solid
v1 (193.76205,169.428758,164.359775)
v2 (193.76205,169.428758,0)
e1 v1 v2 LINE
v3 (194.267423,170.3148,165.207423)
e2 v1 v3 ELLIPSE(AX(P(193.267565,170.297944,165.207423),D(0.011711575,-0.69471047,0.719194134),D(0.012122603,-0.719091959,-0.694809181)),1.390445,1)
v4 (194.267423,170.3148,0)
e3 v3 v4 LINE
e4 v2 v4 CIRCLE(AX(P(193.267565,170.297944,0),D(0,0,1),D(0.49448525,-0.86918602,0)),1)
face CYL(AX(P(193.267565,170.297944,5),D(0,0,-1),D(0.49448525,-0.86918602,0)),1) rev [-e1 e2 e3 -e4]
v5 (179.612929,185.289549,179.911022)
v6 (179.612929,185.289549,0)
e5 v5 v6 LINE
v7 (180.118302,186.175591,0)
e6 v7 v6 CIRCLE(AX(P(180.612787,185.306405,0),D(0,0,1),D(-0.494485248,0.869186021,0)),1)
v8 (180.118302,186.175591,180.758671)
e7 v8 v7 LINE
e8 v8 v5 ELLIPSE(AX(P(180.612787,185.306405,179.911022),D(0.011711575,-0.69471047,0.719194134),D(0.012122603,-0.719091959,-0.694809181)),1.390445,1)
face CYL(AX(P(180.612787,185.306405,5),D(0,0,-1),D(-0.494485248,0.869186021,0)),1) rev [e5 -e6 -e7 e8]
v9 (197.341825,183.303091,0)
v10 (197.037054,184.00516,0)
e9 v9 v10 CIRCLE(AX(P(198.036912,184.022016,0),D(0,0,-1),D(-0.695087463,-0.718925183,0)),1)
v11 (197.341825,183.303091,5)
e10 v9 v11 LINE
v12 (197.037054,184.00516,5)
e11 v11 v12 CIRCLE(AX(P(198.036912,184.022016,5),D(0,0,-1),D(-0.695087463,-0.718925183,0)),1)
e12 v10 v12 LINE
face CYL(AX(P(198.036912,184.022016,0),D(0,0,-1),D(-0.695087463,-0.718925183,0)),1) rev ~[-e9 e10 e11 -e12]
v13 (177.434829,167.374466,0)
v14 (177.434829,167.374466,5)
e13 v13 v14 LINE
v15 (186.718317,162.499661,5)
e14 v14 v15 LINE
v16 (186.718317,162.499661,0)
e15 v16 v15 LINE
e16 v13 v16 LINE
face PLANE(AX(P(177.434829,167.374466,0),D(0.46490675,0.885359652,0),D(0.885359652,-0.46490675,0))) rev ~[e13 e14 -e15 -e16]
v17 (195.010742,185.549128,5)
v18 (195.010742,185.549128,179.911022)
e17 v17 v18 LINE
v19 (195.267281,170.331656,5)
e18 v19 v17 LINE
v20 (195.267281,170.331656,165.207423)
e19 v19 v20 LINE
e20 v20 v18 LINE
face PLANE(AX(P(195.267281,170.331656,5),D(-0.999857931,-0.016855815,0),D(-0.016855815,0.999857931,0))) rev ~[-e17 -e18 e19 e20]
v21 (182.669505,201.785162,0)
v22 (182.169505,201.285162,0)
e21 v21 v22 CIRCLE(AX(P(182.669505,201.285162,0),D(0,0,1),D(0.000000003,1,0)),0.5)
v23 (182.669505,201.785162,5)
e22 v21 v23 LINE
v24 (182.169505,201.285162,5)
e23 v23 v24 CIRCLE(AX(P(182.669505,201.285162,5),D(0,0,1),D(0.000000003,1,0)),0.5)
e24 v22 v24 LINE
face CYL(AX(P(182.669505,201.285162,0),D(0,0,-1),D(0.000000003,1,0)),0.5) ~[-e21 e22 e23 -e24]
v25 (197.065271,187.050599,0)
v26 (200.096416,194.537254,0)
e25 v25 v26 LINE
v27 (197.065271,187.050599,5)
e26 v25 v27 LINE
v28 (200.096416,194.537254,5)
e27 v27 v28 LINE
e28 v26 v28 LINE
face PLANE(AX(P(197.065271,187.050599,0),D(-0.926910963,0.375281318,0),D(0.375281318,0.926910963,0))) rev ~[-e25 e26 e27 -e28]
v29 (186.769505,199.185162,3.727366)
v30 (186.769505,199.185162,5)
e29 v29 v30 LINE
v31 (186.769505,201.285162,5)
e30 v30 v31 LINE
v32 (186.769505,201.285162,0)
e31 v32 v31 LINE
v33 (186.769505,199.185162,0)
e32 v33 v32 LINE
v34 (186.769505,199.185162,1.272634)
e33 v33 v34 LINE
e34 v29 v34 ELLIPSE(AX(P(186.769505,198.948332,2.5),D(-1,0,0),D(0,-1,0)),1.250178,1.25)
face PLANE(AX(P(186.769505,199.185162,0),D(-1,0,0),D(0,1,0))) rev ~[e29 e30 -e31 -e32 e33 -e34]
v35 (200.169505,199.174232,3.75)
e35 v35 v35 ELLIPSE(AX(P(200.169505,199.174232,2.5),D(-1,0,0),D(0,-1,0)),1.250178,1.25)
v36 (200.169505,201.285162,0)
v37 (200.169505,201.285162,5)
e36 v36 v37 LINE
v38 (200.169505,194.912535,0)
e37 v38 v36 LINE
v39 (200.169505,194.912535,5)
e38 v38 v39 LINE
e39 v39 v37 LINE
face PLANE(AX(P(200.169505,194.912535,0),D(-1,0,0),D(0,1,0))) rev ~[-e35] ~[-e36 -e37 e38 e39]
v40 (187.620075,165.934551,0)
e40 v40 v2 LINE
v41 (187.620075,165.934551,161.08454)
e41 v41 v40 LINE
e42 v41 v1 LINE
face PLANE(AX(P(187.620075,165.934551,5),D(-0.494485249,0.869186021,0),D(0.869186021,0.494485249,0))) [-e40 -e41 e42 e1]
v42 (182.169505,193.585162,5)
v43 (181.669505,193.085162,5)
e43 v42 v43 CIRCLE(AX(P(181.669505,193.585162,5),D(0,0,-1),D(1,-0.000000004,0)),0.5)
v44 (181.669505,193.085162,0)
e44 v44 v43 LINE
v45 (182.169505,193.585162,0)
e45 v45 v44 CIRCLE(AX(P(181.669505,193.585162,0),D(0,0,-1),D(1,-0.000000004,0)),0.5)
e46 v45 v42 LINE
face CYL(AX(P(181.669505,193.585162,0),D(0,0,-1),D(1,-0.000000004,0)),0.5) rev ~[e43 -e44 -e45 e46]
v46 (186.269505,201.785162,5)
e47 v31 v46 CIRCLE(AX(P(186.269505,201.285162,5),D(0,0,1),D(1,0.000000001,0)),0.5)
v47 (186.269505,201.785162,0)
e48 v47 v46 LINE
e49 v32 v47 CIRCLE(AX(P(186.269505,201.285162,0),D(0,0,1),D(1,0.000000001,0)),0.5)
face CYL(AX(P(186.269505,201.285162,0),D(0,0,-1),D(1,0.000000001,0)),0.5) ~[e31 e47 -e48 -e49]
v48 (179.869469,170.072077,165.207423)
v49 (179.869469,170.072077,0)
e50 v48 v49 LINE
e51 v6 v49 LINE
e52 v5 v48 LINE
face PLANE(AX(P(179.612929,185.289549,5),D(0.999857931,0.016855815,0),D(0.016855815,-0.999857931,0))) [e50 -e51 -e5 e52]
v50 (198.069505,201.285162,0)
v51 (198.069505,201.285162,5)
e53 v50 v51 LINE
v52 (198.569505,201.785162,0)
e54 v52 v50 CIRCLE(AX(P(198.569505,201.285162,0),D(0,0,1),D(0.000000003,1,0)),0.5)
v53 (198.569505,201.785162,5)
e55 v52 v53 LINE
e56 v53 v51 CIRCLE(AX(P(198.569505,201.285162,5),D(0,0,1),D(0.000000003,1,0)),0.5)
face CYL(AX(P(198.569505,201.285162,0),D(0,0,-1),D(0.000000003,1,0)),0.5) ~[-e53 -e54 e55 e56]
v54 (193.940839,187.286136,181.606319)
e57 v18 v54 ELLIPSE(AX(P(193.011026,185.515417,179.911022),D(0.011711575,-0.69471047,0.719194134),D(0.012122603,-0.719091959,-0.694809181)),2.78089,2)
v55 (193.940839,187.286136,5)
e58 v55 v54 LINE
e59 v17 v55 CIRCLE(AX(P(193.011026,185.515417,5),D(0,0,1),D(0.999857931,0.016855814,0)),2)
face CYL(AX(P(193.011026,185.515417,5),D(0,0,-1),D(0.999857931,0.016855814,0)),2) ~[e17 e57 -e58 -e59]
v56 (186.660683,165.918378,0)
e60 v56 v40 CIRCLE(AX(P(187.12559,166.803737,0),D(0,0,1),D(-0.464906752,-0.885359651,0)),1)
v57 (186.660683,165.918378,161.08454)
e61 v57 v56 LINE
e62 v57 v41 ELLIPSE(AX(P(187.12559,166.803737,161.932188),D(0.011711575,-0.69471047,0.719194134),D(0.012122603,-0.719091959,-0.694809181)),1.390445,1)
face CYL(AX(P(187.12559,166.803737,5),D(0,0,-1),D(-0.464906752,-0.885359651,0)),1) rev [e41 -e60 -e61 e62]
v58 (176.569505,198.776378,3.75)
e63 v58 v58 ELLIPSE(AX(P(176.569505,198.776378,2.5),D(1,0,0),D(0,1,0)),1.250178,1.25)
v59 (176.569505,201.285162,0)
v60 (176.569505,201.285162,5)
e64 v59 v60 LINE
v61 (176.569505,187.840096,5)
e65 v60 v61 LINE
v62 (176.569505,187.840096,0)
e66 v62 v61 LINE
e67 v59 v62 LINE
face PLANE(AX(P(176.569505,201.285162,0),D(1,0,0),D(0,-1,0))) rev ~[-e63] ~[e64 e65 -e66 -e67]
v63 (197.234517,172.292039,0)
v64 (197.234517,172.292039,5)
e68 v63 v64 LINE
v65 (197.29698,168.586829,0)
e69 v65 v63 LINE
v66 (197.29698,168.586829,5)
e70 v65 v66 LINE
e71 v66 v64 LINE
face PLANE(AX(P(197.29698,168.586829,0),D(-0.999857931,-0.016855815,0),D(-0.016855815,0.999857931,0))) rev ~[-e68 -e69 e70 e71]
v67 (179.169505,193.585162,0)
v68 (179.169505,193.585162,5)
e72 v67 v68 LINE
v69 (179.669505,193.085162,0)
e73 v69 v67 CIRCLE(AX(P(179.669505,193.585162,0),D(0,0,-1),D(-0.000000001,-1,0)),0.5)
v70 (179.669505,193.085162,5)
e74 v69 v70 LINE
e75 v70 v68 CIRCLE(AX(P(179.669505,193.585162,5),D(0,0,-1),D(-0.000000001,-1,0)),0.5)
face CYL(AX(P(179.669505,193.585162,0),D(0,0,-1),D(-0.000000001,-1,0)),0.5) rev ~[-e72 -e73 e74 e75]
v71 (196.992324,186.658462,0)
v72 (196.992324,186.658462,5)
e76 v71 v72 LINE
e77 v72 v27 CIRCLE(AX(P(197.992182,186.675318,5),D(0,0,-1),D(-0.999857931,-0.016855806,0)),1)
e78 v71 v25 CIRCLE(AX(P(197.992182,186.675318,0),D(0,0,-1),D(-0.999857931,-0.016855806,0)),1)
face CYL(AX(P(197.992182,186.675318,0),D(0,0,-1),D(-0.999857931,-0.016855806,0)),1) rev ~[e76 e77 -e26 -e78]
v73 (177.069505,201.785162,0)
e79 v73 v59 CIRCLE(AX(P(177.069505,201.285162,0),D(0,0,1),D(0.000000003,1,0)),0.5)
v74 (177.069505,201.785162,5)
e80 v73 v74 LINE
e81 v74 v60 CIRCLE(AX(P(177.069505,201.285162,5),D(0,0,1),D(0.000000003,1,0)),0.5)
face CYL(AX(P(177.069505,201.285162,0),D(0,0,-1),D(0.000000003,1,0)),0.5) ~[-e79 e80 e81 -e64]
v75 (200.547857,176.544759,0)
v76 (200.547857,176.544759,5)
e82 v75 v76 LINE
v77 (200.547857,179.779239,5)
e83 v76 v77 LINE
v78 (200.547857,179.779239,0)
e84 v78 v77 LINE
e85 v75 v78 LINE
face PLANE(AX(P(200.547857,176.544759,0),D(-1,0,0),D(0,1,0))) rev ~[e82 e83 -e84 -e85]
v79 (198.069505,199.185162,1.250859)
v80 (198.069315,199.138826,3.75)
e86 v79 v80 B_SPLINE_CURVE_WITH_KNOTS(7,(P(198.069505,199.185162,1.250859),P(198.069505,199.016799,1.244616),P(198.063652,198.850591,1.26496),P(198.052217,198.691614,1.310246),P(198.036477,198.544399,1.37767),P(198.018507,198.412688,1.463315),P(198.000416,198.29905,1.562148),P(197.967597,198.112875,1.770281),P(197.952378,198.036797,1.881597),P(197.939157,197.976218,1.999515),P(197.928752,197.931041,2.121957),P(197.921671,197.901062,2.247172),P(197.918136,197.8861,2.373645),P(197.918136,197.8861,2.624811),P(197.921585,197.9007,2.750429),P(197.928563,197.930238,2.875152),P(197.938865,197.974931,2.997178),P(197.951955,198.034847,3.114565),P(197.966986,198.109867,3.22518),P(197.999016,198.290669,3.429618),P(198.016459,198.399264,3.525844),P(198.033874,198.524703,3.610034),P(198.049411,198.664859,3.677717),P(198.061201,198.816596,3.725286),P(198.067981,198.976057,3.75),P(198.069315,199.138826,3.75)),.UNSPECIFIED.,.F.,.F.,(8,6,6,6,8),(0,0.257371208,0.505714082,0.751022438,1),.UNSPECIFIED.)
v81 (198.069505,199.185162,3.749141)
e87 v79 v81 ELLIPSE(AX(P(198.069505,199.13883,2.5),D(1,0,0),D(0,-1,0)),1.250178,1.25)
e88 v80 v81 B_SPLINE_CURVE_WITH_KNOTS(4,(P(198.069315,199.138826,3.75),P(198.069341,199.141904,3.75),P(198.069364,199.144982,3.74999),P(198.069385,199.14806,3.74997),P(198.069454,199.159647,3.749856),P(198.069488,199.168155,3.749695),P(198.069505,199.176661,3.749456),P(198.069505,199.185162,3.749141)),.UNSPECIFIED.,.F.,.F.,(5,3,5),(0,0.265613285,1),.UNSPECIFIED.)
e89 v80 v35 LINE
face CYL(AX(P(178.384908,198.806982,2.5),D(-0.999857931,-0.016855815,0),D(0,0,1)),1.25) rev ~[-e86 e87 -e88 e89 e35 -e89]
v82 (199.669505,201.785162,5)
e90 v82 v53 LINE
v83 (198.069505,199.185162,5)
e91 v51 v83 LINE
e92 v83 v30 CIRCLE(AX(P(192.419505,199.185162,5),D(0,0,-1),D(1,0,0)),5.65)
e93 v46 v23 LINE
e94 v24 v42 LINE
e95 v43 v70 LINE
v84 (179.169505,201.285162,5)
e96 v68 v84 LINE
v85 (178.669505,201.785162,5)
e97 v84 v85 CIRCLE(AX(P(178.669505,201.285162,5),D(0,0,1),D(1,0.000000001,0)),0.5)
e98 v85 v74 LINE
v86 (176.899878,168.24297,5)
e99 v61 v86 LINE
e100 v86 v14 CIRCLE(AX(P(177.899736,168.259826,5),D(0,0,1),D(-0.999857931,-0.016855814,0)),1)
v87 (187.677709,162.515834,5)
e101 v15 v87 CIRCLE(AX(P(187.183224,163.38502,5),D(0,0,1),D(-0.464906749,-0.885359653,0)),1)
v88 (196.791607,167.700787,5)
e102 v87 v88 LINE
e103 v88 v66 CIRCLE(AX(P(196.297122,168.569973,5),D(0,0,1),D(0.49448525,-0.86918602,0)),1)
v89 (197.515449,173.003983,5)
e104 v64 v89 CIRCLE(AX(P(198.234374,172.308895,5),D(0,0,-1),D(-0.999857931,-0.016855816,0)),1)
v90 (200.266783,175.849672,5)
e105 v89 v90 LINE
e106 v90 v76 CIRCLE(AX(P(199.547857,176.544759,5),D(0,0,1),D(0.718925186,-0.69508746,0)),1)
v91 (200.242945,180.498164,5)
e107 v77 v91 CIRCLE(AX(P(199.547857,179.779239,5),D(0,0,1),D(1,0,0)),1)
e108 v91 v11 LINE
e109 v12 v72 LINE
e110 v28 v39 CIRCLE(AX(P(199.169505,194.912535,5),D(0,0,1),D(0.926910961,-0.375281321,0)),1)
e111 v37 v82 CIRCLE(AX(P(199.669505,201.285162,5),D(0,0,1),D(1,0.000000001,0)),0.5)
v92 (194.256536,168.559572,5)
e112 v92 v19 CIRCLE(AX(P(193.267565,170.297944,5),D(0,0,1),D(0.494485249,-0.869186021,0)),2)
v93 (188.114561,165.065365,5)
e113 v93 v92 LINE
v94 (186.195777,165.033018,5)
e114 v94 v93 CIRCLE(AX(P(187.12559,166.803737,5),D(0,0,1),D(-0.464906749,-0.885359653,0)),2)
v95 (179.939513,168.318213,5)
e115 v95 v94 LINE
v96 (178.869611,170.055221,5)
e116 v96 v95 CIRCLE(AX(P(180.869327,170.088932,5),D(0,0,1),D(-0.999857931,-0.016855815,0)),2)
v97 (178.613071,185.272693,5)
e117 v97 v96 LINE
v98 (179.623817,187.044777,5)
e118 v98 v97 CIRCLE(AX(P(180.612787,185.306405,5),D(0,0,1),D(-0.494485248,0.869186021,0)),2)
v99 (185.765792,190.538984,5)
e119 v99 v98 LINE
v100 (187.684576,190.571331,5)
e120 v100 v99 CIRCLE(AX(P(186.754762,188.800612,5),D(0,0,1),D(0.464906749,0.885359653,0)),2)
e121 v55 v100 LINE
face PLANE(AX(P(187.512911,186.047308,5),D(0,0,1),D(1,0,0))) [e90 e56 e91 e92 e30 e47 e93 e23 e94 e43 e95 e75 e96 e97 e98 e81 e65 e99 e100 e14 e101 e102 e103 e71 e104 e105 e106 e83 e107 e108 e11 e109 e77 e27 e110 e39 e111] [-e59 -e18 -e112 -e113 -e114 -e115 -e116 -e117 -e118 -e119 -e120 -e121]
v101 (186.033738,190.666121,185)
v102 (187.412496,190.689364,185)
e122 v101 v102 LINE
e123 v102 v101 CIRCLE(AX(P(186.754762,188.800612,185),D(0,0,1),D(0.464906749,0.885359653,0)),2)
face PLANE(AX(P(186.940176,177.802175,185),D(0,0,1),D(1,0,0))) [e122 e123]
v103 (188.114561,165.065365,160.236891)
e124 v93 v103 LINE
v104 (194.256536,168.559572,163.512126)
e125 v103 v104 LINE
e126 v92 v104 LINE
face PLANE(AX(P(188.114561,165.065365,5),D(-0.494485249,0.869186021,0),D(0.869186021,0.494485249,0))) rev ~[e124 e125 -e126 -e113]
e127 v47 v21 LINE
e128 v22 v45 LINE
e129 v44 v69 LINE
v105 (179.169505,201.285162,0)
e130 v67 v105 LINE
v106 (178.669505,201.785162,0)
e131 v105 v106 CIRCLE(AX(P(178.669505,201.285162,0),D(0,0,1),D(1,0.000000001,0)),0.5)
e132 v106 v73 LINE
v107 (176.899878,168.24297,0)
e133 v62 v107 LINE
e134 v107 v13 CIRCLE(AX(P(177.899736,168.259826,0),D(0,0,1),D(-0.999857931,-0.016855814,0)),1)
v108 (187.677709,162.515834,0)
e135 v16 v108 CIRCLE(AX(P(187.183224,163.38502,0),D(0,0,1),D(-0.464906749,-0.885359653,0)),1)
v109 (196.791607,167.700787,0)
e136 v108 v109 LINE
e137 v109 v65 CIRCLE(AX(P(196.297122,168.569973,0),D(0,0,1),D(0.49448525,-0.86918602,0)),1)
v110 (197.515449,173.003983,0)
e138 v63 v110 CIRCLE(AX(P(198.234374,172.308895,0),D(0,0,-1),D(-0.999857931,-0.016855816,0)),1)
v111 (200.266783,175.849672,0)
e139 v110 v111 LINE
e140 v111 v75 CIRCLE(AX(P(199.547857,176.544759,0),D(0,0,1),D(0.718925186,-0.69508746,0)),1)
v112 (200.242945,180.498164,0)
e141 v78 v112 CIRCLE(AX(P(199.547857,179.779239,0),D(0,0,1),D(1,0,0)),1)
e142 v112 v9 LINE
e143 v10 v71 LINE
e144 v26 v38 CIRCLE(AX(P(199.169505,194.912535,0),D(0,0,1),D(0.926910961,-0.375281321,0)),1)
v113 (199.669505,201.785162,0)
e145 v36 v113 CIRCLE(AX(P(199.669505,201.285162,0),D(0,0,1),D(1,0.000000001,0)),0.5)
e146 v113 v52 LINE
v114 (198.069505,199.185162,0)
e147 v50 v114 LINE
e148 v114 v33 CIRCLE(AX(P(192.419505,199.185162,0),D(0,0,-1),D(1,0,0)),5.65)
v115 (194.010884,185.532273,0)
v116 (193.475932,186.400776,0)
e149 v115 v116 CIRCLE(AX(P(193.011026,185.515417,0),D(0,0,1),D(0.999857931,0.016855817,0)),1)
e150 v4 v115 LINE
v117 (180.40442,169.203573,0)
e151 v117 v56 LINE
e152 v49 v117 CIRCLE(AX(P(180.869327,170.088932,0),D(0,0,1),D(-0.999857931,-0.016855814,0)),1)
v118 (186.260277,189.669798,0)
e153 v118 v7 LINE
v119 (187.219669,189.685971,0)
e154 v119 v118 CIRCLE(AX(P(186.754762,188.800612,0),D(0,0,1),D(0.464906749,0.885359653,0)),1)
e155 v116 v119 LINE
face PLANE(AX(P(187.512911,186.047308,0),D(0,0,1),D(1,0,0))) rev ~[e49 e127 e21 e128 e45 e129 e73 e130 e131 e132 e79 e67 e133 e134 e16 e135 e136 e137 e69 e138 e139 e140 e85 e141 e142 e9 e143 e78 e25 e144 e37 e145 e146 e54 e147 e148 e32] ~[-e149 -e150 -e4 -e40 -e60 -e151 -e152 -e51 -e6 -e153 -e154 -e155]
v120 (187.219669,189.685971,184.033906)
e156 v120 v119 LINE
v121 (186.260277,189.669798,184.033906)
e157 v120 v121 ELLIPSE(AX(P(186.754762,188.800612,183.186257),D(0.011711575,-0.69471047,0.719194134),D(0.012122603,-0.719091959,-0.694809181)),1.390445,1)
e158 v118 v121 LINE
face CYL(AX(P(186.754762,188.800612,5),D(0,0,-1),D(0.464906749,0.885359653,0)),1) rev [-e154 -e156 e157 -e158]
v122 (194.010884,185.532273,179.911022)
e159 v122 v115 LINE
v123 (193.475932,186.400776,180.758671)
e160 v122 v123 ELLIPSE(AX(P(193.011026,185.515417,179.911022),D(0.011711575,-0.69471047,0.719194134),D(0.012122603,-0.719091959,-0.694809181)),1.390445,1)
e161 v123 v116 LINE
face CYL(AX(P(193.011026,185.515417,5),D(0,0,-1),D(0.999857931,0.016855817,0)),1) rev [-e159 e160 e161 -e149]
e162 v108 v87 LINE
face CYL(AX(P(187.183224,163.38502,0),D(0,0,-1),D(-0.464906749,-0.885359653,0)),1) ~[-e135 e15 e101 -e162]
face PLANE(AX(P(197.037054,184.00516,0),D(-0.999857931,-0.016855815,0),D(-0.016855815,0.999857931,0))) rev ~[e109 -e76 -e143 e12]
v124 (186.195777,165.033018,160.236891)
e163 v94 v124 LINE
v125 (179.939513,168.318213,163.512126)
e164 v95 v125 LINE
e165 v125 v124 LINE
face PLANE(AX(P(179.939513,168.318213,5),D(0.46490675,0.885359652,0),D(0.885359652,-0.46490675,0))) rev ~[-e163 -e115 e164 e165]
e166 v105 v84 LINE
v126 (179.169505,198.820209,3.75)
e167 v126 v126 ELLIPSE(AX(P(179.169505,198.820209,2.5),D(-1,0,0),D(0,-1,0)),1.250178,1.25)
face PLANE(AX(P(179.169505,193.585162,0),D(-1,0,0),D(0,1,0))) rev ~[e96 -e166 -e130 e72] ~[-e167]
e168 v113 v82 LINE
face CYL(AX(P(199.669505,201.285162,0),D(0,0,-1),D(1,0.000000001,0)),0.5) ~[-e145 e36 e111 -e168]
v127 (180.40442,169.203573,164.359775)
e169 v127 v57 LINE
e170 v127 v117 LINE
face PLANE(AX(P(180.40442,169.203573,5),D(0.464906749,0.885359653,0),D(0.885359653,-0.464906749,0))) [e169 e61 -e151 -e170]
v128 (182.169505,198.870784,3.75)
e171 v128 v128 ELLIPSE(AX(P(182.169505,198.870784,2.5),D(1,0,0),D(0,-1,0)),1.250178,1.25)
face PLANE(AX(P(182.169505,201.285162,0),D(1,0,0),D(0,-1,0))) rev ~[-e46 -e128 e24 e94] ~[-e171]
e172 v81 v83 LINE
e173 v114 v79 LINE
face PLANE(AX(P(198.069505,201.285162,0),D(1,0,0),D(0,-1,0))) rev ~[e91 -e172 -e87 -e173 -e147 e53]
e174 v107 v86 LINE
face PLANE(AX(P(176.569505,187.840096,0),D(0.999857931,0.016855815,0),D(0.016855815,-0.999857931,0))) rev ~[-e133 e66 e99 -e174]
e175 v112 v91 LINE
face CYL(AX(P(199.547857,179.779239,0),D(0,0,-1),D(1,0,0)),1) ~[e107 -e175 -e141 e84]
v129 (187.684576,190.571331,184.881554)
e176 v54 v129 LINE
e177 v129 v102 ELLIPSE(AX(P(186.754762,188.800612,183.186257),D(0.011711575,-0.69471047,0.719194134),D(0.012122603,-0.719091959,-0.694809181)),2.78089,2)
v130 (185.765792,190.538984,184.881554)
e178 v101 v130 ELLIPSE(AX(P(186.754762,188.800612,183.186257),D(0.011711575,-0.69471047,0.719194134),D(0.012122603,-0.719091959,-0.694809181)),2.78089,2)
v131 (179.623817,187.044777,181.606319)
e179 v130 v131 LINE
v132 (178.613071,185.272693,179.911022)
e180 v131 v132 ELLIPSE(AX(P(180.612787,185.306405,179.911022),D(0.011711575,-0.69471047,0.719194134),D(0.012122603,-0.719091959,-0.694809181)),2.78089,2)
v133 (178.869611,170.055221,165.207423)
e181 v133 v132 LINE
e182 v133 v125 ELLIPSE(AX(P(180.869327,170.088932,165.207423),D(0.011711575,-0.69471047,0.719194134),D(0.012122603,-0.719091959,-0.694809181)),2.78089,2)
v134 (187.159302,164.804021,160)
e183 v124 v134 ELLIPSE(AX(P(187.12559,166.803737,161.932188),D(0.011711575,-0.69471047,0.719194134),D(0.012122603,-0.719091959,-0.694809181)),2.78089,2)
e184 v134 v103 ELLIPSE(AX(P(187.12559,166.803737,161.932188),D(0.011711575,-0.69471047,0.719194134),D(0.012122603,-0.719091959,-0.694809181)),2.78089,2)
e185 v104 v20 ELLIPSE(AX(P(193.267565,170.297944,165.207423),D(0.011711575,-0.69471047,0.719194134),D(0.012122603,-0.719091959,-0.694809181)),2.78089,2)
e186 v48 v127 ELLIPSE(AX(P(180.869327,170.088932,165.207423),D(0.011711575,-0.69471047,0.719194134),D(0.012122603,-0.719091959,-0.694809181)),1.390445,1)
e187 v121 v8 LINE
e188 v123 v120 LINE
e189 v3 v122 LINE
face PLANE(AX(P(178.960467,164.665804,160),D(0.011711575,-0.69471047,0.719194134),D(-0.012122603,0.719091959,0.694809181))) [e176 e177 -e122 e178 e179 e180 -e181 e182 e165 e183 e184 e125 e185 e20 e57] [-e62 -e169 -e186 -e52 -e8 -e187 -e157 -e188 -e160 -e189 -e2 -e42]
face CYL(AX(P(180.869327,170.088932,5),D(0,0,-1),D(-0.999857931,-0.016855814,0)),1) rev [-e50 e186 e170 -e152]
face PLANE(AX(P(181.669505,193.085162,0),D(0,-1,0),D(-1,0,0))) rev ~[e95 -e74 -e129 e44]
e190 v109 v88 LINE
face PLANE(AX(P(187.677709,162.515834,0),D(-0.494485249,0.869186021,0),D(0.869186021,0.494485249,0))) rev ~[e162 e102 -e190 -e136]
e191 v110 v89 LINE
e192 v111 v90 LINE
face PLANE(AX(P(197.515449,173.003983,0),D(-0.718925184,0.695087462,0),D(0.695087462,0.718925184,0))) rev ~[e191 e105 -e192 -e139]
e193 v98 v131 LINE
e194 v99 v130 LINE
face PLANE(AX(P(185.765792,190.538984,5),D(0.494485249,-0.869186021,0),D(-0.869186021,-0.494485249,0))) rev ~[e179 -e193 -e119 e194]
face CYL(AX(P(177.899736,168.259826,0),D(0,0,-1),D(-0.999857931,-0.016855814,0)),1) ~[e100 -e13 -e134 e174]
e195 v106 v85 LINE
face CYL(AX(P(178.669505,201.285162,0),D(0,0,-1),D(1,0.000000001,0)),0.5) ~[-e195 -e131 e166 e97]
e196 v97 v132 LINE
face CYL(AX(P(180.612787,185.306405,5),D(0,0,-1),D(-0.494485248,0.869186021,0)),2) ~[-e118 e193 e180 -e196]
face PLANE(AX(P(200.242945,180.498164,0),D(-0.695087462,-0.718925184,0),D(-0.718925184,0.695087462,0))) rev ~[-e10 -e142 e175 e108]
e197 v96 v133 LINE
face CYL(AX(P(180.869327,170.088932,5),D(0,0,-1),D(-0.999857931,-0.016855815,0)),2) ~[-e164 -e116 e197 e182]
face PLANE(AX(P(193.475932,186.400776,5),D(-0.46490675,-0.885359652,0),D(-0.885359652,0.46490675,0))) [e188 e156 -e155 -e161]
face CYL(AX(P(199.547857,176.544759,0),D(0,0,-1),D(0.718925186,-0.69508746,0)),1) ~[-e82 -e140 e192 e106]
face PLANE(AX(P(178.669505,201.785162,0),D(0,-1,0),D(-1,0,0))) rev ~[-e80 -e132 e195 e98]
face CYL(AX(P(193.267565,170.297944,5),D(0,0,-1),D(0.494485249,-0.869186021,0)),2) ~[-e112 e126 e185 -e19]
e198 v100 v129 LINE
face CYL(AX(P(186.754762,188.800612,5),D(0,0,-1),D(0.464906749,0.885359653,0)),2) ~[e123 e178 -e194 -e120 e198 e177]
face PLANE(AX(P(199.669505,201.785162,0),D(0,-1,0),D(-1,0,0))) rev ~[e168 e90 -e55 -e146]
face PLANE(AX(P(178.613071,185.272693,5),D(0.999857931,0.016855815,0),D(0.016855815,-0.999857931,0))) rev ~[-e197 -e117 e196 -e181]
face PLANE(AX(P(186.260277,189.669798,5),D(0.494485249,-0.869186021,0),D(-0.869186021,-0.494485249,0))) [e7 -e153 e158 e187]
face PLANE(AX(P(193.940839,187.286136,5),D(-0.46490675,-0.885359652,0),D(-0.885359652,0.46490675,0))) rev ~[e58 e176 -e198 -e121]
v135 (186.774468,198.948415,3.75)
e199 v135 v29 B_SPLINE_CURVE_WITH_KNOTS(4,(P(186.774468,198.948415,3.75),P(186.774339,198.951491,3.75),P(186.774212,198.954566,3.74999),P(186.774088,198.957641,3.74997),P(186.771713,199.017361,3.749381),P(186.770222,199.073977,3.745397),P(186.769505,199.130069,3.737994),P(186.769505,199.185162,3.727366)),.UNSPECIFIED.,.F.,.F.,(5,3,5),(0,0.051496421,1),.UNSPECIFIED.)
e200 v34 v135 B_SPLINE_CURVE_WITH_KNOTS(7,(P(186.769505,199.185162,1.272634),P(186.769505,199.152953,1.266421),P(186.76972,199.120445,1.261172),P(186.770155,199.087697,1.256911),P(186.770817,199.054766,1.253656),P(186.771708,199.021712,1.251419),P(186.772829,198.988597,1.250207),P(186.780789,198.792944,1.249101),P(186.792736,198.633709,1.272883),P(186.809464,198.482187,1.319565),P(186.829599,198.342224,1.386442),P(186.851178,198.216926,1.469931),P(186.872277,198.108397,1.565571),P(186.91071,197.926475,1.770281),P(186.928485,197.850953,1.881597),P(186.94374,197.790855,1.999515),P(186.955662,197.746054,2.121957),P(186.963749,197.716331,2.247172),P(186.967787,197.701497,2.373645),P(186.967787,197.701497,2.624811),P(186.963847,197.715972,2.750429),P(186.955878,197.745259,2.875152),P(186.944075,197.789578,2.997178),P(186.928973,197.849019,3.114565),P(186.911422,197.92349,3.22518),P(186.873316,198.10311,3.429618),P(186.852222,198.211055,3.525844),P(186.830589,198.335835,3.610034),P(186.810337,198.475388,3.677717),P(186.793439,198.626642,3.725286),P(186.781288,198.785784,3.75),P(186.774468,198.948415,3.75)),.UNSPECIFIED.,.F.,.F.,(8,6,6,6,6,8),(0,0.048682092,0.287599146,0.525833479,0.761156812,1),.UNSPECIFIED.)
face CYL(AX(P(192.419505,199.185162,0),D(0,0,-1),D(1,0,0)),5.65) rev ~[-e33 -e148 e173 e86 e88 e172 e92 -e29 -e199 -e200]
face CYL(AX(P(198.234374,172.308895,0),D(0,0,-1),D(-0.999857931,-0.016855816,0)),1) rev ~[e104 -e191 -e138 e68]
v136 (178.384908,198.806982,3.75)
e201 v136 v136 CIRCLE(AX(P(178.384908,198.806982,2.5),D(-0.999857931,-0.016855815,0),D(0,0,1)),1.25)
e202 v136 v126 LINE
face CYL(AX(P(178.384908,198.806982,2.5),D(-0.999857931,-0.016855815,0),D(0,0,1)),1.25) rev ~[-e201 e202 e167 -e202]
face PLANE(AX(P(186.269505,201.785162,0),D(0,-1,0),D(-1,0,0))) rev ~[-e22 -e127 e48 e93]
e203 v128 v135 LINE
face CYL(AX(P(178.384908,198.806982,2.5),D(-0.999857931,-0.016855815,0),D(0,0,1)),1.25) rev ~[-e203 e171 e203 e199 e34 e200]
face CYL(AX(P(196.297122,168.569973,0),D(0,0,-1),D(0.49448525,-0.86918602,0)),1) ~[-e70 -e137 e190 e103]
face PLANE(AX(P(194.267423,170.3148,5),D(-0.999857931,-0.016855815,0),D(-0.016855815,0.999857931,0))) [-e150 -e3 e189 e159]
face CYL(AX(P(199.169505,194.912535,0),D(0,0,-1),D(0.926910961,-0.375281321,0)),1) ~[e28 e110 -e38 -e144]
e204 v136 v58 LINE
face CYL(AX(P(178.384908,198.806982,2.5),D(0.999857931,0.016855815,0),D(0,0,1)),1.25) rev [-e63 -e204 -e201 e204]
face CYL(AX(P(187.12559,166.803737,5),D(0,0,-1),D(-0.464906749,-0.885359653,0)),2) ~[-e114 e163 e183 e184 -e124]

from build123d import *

# Parameters (mm, degrees)
BOSS_EXTRUDE1_DEPTH     = 5
BOSS_EXTRUDE2_DEPTH     = 180
SKETCH3_R               = 1.25
CUT_EXTRUDE1_DEPTH      = 180
CUT_EXTRUDE1_DEPTH_BACK = 180


with BuildPart() as part:
    # Sketch1 → Boss-Extrude1 (new body)
    with BuildSketch(Plane.XY):
        with BuildLine():
            Line((176.569505492, 187.840095713), (176.899877953, 168.242969935))
            ThreePointArc((176.899877953, 168.242969935), (177.048290864, 167.735381874), (177.434829134, 167.374466097))
            Line((177.434829134, 167.374466097), (186.718316852, 162.499660601))
            ThreePointArc((186.718316852, 162.499660601), (187.200079416, 162.385162323), (187.67770885, 162.515834233))
            Line((187.67770885, 162.515834233), (196.791607056, 167.700786723))
            ThreePointArc((196.791607056, 167.700786723), (197.16576035, 168.074526398), (197.296979738, 168.586828559))
            Line((197.296979738, 168.586828559), (197.234516514, 172.292039484))
            ThreePointArc((197.234516514, 172.292039484), (197.304175726, 172.675951622), (197.515449261, 173.003982761))
            Line((197.515449261, 173.003982761), (200.266782587, 175.849671866))
            ThreePointArc((200.266782587, 175.849671866), (200.474929456, 176.169876136), (200.547857403, 176.544759328))
            Line((200.547857403, 176.544759328), (200.547857403, 179.779238985))
            ThreePointArc((200.547857403, 179.779238985), (200.468478786, 180.169695473), (200.242944865, 180.498164169))
            Line((200.242944865, 180.498164169), (197.341824739, 183.303090564))
            ThreePointArc((197.341824739, 183.303090564), (197.119614365, 183.623813941), (197.037054271, 184.005159933))
            Line((197.037054271, 184.005159933), (196.992324343, 186.658462241))
            ThreePointArc((196.992324343, 186.658462241), (197.009048268, 186.858204702), (197.065271311, 187.050599374))
            Line((197.065271311, 187.050599374), (200.096416454, 194.537254131))
            ThreePointArc((200.096416454, 194.537254131), (200.151063173, 194.721369242), (200.169505492, 194.912535449))
            Line((200.169505492, 194.912535449), (200.169505492, 201.285162323))
            ThreePointArc((200.169505492, 201.285162323), (200.023058882, 201.638715714), (199.669505492, 201.785162323))
            Line((199.669505492, 201.785162323), (198.569505492, 201.785162323))
            ThreePointArc((198.569505492, 201.785162323), (198.215952101, 201.638715714), (198.069505492, 201.285162323))
            Line((198.069505492, 201.285162323), (198.069505492, 199.185162323))
            ThreePointArc((198.069505492, 199.185162323), (192.419505492, 193.535162323), (186.769505492, 199.185162323))
            Line((186.769505492, 199.185162323), (186.769505492, 201.285162323))
            ThreePointArc((186.769505492, 201.285162323), (186.623058882, 201.638715714), (186.269505492, 201.785162323))
            Line((186.269505492, 201.785162323), (182.669505492, 201.785162323))
            ThreePointArc((182.669505492, 201.785162323), (182.315952101, 201.638715714), (182.169505492, 201.285162323))
            Line((182.169505492, 201.285162323), (182.169505492, 193.585162323))
            ThreePointArc((182.169505492, 193.585162323), (182.023058882, 193.231608933), (181.669505492, 193.085162323))
            Line((181.669505492, 193.085162323), (179.669505492, 193.085162323))
            ThreePointArc((179.669505492, 193.085162323), (179.315952101, 193.231608933), (179.169505492, 193.585162323))
            Line((179.169505492, 193.585162323), (179.169505492, 201.285162323))
            ThreePointArc((179.169505492, 201.285162323), (179.023058882, 201.638715714), (178.669505492, 201.785162323))
            Line((178.669505492, 201.785162323), (177.069505492, 201.785162323))
            ThreePointArc((177.069505492, 201.785162323), (176.715952101, 201.638715714), (176.569505492, 201.285162323))
            Line((176.569505492, 201.285162323), (176.569505492, 187.840095713))
        make_face()
        with BuildLine():
            Line((186.260276974, 189.669797845), (180.118302096, 186.175590732))
            ThreePointArc((180.118302096, 186.175590732), (179.744148802, 185.801851058), (179.612929414, 185.289548897))
            Line((179.612929414, 185.289548897), (179.869468758, 170.072076543))
            ThreePointArc((179.869468758, 170.072076543), (180.017881669, 169.564488482), (180.404419939, 169.203572705))
            Line((180.404419939, 169.203572705), (186.660683401, 165.918377698))
            ThreePointArc((186.660683401, 165.918377698), (187.142445966, 165.803879419), (187.6200754, 165.934551329))
            Line((187.6200754, 165.934551329), (193.762050278, 169.428758442))
            ThreePointArc((193.762050278, 169.428758442), (194.136203572, 169.802498117), (194.26742296, 170.314800278))
            Line((194.26742296, 170.314800278), (194.010883616, 185.532272632))
            ThreePointArc((194.010883616, 185.532272632), (193.862470704, 186.039860693), (193.475932435, 186.400776469))
            Line((193.475932435, 186.400776469), (187.219668972, 189.685971477))
            ThreePointArc((187.219668972, 189.685971477), (186.737906408, 189.800469755), (186.260276974, 189.669797845))
        make_face(mode=Mode.SUBTRACT)
    extrude(amount=BOSS_EXTRUDE1_DEPTH)

    # Sketch2 → Boss-Extrude2 (add)
    with BuildSketch(Plane.XY.offset(5)):
        with BuildLine():
            Line((185.765791725, 190.538983866), (179.623816847, 187.044776753))
            ThreePointArc((179.623816847, 187.044776753), (178.875510259, 186.297297404), (178.613071484, 185.272693082))
            Line((178.613071484, 185.272693082), (178.869610827, 170.055220728))
            ThreePointArc((178.869610827, 170.055220728), (179.16643665, 169.040044606), (179.93951319, 168.318213053))
            Line((179.93951319, 168.318213053), (186.195776652, 165.033018045))
            ThreePointArc((186.195776652, 165.033018045), (187.159301781, 164.804021489), (188.114560649, 165.065365309))
            Line((188.114560649, 165.065365309), (194.256535527, 168.559572421))
            ThreePointArc((194.256535527, 168.559572421), (195.004842115, 169.307051771), (195.26728089, 170.331656093))
            Line((195.26728089, 170.331656093), (195.010741546, 185.549128447))
            ThreePointArc((195.010741546, 185.549128447), (194.713915724, 186.564304569), (193.940839184, 187.286136122))
            Line((193.940839184, 187.286136122), (187.684575722, 190.57133113))
            ThreePointArc((187.684575722, 190.57133113), (186.721050593, 190.800327686), (185.765791725, 190.538983866))
        make_face()
        with BuildLine():
            Line((186.260276974, 189.669797845), (180.118302096, 186.175590732))
            ThreePointArc((180.118302096, 186.175590732), (179.744148802, 185.801851058), (179.612929414, 185.289548897))
            Line((179.612929414, 185.289548897), (179.869468758, 170.072076543))
            ThreePointArc((179.869468758, 170.072076543), (180.017881669, 169.564488482), (180.404419939, 169.203572705))
            Line((180.404419939, 169.203572705), (186.660683401, 165.918377698))
            ThreePointArc((186.660683401, 165.918377698), (187.142445966, 165.803879419), (187.6200754, 165.934551329))
            Line((187.6200754, 165.934551329), (193.762050278, 169.428758442))
            ThreePointArc((193.762050278, 169.428758442), (194.136203572, 169.802498117), (194.26742296, 170.314800278))
            Line((194.26742296, 170.314800278), (194.010883616, 185.532272632))
            ThreePointArc((194.010883616, 185.532272632), (193.862470704, 186.039860693), (193.475932435, 186.400776469))
            Line((193.475932435, 186.400776469), (187.219668972, 189.685971477))
            ThreePointArc((187.219668972, 189.685971477), (186.737906408, 189.800469755), (186.260276974, 189.669797845))
        make_face(mode=Mode.SUBTRACT)
    extrude(amount=BOSS_EXTRUDE2_DEPTH)

    # Sketch3 → Cut-Extrude1 (cut, two sides)
    with BuildSketch(Plane(origin=(181.684802759, 3.06288055, 0), x_dir=(0, 0, 1), z_dir=(-0.999857931, -0.016855815, 0))) as cut_extrude1_sk:
        with Locations((2.5, 195.771915061)):
            Circle(SKETCH3_R)
        Polygon((185, 187.503282827), (185, 161.625885339), (160, 161.625885339), align=None)
    extrude(amount=CUT_EXTRUDE1_DEPTH, mode=Mode.SUBTRACT)
    extrude(cut_extrude1_sk.sketch, amount=-CUT_EXTRUDE1_DEPTH_BACK, mode=Mode.SUBTRACT)


solid = part.part
